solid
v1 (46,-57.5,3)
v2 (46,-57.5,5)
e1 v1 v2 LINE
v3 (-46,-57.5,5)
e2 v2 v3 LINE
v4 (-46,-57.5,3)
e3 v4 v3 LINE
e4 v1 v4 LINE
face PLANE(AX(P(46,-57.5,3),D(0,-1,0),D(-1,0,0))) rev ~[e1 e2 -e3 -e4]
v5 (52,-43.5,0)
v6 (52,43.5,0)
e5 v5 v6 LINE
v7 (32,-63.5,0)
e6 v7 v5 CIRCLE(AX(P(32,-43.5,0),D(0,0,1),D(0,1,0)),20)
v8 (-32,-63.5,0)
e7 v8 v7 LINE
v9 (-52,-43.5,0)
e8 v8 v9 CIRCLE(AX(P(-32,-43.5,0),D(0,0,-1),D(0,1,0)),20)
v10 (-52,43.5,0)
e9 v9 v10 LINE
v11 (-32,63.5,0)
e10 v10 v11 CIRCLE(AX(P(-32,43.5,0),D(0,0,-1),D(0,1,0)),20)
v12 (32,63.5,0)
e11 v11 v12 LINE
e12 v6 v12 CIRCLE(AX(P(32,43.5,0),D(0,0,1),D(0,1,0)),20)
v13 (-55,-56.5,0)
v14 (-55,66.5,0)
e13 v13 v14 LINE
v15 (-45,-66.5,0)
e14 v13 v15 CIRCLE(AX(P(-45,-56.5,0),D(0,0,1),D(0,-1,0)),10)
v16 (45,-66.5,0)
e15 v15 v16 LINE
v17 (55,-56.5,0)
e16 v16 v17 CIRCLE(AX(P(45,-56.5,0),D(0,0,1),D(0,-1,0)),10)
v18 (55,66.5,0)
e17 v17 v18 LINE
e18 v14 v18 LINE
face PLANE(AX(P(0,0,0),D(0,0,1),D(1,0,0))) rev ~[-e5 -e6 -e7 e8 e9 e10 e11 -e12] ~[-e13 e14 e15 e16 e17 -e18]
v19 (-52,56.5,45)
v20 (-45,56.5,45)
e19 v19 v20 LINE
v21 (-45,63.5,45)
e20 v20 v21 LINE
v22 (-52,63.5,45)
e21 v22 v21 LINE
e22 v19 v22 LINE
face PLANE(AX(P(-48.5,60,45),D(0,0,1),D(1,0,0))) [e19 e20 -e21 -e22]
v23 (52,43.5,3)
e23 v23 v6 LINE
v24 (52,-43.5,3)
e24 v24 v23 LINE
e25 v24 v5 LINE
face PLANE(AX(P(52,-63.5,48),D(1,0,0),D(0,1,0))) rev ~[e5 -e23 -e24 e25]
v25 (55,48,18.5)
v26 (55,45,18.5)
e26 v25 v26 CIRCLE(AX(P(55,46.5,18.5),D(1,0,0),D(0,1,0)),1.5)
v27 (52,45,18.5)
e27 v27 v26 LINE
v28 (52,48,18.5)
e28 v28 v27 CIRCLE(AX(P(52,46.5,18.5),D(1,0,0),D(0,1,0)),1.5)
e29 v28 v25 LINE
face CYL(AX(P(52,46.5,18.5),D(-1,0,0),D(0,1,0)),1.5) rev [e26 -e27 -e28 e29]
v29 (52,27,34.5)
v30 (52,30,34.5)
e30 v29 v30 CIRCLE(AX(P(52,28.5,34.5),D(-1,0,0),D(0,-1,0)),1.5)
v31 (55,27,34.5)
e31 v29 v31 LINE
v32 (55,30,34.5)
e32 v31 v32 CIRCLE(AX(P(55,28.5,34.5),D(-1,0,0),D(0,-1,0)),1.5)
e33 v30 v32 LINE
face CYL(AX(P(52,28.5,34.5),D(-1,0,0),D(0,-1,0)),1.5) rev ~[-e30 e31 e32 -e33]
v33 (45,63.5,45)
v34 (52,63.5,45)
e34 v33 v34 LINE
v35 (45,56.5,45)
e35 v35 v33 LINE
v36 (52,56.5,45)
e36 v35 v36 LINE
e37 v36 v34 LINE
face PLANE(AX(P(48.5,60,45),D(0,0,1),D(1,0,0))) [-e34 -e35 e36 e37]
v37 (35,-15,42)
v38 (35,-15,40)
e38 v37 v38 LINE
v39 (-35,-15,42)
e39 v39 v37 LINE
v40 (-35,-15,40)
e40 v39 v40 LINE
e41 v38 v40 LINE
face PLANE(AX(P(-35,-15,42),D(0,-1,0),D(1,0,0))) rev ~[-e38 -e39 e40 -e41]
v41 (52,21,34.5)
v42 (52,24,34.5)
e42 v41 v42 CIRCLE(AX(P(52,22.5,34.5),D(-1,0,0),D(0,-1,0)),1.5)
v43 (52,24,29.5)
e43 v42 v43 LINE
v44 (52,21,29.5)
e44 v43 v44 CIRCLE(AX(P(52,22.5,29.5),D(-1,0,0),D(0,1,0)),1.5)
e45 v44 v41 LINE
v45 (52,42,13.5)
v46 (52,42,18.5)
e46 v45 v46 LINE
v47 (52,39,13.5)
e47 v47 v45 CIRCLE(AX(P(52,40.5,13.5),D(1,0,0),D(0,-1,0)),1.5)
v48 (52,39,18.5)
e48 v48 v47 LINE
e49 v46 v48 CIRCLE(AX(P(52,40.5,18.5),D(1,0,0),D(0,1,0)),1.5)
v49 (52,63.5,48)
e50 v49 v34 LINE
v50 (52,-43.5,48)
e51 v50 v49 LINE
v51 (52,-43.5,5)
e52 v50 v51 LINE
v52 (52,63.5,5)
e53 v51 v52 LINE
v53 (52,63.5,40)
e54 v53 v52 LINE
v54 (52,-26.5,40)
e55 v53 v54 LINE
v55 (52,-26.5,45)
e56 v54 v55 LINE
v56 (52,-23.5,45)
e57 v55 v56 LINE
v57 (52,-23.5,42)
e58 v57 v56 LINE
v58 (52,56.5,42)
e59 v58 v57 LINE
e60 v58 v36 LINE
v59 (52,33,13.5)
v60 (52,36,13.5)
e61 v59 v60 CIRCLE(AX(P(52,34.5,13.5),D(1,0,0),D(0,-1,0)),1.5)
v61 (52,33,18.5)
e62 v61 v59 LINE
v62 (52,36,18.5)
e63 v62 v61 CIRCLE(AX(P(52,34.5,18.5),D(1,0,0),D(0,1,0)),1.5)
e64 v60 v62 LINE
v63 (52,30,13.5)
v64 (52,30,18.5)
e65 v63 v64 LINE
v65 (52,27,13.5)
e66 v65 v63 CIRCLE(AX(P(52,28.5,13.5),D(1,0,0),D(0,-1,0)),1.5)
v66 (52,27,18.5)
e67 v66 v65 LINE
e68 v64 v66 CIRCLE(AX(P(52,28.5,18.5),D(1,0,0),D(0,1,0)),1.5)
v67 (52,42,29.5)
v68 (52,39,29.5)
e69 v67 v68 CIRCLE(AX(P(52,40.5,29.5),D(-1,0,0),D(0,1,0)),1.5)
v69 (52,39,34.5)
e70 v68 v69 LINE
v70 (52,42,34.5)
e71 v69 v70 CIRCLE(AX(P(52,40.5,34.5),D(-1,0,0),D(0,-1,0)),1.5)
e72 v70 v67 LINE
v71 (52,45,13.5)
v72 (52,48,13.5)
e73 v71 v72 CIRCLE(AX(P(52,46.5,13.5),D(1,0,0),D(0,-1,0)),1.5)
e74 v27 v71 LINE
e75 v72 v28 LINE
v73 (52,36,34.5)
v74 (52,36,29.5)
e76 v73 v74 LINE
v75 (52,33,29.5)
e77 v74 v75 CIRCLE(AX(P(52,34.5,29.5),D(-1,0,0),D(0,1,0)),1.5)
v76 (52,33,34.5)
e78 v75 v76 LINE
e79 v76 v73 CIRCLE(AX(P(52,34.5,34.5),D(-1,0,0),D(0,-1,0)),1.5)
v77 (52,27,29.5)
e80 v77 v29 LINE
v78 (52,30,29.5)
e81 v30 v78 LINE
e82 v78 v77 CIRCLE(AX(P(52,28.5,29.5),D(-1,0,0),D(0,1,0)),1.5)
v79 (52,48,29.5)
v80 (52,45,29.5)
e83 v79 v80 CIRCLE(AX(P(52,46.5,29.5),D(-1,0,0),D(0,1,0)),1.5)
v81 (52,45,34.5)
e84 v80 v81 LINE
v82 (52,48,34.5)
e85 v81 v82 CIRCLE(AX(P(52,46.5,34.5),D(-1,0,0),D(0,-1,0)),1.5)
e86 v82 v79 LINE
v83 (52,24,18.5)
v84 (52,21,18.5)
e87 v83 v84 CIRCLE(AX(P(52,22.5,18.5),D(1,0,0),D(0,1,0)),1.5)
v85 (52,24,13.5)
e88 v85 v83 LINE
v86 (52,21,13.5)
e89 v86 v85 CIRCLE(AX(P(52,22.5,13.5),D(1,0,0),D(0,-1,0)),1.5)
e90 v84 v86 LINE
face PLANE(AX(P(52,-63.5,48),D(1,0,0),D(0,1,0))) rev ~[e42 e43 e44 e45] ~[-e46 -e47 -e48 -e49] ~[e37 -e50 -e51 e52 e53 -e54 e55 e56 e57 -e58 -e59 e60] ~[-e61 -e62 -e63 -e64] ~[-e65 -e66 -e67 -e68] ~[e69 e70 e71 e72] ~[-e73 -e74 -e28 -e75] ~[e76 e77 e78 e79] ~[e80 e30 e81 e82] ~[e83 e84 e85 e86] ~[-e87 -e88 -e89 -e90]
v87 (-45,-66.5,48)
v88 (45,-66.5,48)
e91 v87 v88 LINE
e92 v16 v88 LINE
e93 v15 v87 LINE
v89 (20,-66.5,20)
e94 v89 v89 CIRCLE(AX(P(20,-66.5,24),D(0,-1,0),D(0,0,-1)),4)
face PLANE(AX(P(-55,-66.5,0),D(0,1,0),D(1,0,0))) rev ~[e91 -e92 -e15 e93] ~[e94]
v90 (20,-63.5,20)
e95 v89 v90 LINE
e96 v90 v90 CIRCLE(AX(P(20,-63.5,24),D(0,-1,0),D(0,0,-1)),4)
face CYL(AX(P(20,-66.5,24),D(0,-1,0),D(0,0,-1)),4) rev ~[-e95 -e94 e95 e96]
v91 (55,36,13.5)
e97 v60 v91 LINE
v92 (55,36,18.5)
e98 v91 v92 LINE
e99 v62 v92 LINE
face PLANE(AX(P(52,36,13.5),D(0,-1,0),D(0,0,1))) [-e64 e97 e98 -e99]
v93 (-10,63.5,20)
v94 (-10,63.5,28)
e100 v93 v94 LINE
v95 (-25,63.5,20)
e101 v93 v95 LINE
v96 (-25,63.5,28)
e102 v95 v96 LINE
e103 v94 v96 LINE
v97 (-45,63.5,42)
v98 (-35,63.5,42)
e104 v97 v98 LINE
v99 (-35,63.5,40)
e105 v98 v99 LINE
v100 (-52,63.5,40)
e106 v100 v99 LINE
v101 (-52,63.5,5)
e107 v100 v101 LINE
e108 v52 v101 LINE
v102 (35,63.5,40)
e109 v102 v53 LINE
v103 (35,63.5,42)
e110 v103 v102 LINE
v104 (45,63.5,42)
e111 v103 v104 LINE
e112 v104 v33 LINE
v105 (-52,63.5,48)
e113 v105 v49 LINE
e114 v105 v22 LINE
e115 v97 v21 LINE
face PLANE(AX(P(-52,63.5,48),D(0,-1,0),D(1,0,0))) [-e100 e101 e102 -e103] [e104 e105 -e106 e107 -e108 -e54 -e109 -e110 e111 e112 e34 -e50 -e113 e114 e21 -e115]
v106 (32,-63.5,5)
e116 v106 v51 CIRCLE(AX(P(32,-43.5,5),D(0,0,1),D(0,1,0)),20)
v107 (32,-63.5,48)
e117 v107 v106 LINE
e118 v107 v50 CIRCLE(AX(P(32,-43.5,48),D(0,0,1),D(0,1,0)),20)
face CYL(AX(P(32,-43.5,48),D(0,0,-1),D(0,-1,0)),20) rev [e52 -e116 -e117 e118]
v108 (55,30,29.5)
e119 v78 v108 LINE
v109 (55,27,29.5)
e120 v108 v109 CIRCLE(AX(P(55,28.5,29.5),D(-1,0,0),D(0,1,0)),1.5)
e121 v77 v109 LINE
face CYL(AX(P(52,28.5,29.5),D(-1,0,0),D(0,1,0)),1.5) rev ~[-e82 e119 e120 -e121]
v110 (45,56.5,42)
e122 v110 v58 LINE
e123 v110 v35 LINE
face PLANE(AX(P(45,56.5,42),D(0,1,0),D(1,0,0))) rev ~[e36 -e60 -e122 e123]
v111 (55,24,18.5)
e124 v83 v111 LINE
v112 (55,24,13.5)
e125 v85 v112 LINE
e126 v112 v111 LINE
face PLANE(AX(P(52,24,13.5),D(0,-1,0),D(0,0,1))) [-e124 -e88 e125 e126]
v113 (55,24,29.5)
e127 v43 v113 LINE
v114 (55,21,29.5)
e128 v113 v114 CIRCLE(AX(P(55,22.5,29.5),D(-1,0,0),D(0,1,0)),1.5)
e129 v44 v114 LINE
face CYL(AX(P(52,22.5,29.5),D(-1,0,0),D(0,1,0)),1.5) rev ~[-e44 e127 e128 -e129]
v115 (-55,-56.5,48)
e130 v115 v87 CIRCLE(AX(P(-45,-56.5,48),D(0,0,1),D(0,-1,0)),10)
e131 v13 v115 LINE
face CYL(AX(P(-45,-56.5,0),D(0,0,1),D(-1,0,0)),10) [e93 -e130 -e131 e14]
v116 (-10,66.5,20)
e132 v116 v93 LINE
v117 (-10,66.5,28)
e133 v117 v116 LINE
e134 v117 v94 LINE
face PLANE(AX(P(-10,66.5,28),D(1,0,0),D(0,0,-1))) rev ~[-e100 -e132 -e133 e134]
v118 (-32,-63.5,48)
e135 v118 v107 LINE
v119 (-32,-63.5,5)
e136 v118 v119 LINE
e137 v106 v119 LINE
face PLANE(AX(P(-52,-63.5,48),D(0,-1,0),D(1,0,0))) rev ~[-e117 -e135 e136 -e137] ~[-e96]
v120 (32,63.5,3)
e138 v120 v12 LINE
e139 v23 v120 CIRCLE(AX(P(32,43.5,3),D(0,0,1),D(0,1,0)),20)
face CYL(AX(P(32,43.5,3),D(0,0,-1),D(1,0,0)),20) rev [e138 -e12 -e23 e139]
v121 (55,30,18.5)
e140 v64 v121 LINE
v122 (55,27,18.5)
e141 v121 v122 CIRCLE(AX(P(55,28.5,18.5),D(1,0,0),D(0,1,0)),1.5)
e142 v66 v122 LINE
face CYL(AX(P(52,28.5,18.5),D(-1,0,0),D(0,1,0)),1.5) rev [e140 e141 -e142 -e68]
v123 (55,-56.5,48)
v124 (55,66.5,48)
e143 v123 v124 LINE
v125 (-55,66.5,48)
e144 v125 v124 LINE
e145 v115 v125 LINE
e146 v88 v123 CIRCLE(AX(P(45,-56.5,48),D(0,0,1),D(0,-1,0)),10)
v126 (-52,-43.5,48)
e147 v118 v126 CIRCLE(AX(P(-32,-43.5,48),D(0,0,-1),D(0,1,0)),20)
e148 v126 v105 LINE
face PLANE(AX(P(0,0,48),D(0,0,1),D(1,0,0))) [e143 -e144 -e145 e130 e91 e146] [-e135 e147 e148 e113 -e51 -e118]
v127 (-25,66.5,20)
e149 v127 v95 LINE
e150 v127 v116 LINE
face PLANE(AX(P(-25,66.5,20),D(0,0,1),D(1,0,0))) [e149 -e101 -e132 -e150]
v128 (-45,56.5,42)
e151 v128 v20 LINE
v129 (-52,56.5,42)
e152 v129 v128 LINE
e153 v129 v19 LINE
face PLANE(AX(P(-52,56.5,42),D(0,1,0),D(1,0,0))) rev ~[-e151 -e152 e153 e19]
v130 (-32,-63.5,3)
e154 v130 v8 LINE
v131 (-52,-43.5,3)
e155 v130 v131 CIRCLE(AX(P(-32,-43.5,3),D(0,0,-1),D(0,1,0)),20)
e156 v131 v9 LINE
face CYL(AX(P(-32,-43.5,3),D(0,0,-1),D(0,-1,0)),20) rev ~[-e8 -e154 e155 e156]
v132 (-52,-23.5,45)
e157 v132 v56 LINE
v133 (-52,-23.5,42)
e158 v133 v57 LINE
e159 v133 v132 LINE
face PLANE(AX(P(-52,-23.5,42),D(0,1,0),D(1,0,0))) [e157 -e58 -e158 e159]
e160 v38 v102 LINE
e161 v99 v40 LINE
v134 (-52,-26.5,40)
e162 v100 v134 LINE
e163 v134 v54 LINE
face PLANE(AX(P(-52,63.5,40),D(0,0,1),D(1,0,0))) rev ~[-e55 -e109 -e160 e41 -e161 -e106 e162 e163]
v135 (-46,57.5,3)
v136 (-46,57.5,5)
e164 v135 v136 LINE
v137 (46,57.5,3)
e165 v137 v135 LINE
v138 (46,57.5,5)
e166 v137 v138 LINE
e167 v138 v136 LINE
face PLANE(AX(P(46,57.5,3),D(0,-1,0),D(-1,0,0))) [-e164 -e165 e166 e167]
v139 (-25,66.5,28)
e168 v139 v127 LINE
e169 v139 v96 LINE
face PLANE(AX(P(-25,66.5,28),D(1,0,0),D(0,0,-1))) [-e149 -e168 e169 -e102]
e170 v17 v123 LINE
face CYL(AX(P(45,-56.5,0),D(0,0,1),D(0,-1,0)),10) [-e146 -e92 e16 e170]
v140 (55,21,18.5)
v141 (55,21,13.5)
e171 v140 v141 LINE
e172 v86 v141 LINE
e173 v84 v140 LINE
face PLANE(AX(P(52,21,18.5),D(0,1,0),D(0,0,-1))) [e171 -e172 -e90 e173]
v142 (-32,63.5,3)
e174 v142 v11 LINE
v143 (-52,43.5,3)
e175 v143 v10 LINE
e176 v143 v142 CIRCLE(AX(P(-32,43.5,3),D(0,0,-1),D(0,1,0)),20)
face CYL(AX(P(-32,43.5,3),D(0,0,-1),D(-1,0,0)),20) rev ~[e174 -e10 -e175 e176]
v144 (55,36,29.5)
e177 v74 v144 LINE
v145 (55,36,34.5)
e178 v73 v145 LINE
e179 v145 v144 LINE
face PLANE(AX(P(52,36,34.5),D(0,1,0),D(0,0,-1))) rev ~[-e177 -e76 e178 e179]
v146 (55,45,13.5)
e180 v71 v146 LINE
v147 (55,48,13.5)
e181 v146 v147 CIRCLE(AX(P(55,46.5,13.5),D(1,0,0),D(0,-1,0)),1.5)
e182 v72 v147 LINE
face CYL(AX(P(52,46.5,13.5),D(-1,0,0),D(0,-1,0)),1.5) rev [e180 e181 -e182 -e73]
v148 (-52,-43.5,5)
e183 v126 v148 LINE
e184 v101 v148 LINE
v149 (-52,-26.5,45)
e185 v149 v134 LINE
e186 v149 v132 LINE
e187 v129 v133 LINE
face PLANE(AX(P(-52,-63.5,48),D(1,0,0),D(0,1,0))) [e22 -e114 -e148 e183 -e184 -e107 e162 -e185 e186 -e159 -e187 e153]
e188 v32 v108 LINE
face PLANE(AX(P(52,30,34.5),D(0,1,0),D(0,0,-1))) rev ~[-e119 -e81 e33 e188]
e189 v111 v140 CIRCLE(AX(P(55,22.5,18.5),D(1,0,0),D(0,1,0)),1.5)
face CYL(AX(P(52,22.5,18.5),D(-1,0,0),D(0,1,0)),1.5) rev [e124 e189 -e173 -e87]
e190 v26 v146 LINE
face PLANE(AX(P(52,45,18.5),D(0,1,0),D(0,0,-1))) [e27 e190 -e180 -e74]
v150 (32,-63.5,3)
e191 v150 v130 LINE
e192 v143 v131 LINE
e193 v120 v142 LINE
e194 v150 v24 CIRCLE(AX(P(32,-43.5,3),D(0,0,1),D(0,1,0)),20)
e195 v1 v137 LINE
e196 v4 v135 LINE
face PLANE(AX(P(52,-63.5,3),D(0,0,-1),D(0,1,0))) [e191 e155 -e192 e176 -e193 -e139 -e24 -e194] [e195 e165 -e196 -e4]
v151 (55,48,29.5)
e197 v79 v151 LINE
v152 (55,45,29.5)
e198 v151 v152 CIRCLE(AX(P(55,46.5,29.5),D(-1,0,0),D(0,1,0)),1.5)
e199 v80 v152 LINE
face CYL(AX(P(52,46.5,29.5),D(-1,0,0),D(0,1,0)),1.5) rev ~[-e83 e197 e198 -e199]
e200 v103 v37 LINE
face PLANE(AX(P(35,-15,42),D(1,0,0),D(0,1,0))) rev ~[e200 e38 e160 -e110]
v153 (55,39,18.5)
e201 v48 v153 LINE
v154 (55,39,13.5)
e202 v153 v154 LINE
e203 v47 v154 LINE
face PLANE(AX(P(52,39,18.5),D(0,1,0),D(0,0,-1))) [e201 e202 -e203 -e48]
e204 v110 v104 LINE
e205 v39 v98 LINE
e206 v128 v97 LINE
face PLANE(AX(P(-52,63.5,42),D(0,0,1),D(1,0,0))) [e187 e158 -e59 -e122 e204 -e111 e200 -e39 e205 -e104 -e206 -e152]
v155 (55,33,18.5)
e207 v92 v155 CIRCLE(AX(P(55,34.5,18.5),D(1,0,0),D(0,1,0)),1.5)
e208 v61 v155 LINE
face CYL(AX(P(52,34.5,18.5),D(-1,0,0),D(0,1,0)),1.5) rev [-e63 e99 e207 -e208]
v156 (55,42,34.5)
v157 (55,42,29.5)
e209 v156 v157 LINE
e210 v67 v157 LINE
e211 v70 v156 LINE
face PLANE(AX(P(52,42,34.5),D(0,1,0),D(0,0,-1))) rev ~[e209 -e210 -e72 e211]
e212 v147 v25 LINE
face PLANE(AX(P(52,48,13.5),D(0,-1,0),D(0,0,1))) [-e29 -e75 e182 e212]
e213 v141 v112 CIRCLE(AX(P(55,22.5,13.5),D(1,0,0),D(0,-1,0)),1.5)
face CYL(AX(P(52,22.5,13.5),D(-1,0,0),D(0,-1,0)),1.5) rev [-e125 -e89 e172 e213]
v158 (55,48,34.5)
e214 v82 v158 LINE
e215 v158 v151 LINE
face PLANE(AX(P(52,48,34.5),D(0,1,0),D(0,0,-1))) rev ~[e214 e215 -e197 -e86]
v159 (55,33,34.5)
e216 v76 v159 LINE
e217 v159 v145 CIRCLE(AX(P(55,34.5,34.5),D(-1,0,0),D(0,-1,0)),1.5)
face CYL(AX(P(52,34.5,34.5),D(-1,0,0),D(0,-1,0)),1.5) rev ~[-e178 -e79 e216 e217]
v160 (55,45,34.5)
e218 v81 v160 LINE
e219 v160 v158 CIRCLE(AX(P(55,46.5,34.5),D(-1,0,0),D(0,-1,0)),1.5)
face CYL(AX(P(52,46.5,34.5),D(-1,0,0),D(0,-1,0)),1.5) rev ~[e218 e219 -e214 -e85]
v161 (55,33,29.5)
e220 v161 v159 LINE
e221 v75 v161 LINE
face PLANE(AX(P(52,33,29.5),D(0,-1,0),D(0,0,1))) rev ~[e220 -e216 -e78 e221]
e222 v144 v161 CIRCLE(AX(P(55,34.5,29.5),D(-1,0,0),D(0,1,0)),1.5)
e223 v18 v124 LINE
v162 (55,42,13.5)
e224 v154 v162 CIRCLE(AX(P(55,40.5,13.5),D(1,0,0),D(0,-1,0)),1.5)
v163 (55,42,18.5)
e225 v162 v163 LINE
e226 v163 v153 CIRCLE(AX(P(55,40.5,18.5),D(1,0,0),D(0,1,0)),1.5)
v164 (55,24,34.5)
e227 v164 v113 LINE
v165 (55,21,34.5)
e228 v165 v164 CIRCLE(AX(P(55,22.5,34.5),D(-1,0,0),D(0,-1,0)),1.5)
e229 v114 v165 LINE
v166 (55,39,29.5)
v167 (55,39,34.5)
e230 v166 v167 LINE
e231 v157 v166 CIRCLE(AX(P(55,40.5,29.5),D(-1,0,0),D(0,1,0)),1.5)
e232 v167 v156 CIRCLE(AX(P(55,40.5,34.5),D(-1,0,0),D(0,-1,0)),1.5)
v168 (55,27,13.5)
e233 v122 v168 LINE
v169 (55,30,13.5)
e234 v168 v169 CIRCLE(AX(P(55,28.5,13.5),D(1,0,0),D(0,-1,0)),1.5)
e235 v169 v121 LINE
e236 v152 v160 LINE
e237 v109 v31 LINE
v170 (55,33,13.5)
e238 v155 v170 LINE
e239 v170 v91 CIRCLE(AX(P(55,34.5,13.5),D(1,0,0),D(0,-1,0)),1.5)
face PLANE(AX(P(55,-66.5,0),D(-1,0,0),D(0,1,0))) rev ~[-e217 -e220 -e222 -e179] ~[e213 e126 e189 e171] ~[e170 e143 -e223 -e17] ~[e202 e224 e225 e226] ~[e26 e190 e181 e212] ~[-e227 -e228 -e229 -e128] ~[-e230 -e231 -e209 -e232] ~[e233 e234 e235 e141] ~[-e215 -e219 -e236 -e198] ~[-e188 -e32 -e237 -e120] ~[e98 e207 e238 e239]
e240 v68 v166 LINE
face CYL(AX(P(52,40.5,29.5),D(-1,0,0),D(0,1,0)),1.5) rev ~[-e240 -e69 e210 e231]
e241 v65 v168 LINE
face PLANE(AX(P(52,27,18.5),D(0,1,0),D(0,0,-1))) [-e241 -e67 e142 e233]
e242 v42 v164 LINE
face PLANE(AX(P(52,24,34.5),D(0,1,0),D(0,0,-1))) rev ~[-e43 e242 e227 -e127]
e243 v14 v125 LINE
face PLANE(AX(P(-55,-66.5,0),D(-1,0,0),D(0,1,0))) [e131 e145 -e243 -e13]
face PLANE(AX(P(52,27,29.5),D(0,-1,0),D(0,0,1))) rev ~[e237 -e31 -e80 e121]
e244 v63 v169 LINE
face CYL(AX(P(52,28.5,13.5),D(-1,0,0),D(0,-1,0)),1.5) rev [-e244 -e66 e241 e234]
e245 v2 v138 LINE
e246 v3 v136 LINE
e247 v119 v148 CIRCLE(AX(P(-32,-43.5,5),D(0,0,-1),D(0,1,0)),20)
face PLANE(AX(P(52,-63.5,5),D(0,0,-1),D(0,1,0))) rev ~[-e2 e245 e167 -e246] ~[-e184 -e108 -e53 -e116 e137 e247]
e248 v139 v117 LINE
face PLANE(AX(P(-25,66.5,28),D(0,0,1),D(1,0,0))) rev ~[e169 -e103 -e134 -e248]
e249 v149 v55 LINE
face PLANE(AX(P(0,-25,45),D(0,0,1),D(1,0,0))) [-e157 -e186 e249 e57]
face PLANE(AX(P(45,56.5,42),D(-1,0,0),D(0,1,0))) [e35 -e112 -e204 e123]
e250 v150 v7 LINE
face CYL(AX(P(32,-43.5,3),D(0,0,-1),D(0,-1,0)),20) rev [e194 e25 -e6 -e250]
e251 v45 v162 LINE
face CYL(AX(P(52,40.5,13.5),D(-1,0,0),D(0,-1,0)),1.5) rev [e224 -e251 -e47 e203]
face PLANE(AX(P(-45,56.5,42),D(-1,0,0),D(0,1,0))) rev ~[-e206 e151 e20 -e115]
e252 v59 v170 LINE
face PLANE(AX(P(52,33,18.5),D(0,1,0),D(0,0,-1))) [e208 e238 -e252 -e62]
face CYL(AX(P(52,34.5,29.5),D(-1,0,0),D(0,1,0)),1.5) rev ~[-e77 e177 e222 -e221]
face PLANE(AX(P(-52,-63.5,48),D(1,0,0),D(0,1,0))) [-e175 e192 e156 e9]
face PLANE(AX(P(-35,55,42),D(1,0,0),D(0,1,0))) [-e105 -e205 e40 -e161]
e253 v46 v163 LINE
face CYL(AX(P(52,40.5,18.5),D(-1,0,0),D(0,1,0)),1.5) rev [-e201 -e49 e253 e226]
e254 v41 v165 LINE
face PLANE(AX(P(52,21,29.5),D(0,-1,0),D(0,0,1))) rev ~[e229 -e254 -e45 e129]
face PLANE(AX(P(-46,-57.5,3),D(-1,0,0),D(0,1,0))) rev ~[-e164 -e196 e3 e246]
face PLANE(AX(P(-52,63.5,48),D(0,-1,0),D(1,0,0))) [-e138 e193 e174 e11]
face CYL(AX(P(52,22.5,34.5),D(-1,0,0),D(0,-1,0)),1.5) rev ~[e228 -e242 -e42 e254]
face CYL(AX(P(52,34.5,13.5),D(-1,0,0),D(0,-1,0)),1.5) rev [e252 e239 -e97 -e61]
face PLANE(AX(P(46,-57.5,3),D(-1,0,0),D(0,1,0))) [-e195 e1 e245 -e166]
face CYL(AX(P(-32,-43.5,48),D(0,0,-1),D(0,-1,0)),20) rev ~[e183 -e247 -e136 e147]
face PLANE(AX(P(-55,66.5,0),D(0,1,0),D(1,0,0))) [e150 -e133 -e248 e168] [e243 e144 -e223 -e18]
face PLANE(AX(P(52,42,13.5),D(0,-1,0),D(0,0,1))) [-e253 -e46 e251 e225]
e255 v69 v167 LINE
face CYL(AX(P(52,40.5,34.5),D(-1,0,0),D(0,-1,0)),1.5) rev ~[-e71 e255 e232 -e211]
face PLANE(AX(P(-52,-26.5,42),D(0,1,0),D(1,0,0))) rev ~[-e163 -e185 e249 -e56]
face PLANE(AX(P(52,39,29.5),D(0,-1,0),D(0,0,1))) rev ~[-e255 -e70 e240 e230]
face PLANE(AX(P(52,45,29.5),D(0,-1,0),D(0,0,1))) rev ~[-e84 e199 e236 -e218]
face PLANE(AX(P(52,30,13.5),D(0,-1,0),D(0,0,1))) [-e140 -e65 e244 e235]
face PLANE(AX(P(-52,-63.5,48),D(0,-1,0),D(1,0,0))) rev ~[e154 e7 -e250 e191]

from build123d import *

# Parameters (mm, degrees)
SKETCH_1_W          = 110
SKETCH_1_H          = 133
EXTRUDE_1_DEPTH     = 48
SKETCH_2_W          = 104
SKETCH_2_H          = 127
CUT_EXTRUDE_1_DEPTH = 50
SKETCH_3_W          = 104
SKETCH_3_H          = 2
EXTRUDE_2_DEPTH     = 90
CUT_EXTRUDE_2_REACH = 97.975
SKETCH_4_W          = 70
SKETCH_4_H          = 70
SKETCH_5_W          = 104
SKETCH_5_H          = 3
EXTRUDE_3_DEPTH     = 3
SKETCH_6_W          = 15
SKETCH_6_H          = 8
CUT_EXTRUDE_3_DEPTH = 10
SKETCH_8_W          = 70
SKETCH_8_H          = 8.5
CUT_EXTRUDE_4_DEPTH = 2
EXTRUDE_4_REACH     = 136.816
SKETCH_9_W          = 2
SKETCH_9_H          = 127
SKETCH_10_W         = 92
SKETCH_10_H         = 115
CUT_EXTRUDE_5_DEPTH = 8
FILLET_10_R         = 10
FILLET_11_R         = 20
FILLET_12_R         = 20
FILLET_13_R         = 10
FILLET_14_R         = 20
FILLET_15_R         = 20
FILLET_16_R         = 20
SKETCH_11_W         = 7
SKETCH_11_H         = 7
EXTRUDE_5_DEPTH     = 3
SKETCH_12_R         = 4
CUT_EXTRUDE_6_DEPTH = 3
CUT_EXTRUDE_7_DEPTH = 3


with BuildPart() as part:
    # 草图1 → 凸台-拉伸1 (new body)
    with BuildSketch(Plane.XY):
        Rectangle(SKETCH_1_W, SKETCH_1_H)
    extrude(amount=EXTRUDE_1_DEPTH)

    # 草图2 → 切除-拉伸1 (cut)
    with BuildSketch(Plane.XY.offset(48)):
        Rectangle(SKETCH_2_W, SKETCH_2_H)
    extrude(amount=-CUT_EXTRUDE_1_DEPTH, mode=Mode.SUBTRACT)

    # 草图3 → 凸台-拉伸2 (add)
    with BuildSketch(Plane.XZ.offset(-63.5)):
        with Locations((0, 41)):
            Rectangle(SKETCH_3_W, SKETCH_3_H)
    extrude(amount=EXTRUDE_2_DEPTH)

    # 草图4 → 切除-拉伸2 (cut, up to next)
    with BuildSketch(Plane.XY.offset(42), mode=Mode.PRIVATE) as cut_extrude_2_sk1:
        with Locations((0, 20)):
            Rectangle(SKETCH_4_W, SKETCH_4_H)
    cut_extrude_2_tool1 = extrude(cut_extrude_2_sk1.sketch, amount=-CUT_EXTRUDE_2_REACH, mode=Mode.PRIVATE) & part.part
    add(cut_extrude_2_tool1.solids().sort_by_distance((0, 20, 42))[0], mode=Mode.SUBTRACT)

    # 草图5 → 凸台-拉伸3 (add)
    with BuildSketch(Plane.XY.offset(42)):
        with Locations((0, -25)):
            Rectangle(SKETCH_5_W, SKETCH_5_H)
    extrude(amount=EXTRUDE_3_DEPTH)

    # 草图6 → 切除-拉伸3 (cut)
    with BuildSketch(Plane(origin=(0, 66.5, 0), x_dir=(1, 0, 0), z_dir=(0, 1, 0))):
        with Locations((-17.5, -24)):
            Rectangle(SKETCH_6_W, SKETCH_6_H)
    extrude(amount=-CUT_EXTRUDE_3_DEPTH, mode=Mode.SUBTRACT)

    # 草图8 → 切除-拉伸4 (cut)
    with BuildSketch(Plane.XY.offset(42)):
        with Locations((0, 59.25)):
            Rectangle(SKETCH_8_W, SKETCH_8_H)
    extrude(amount=-CUT_EXTRUDE_4_DEPTH, mode=Mode.SUBTRACT)

    # 草图9 → 凸台-拉伸4 (add, up to next)
    with BuildSketch(Plane.ZY.offset(-52), mode=Mode.PRIVATE) as extrude_4_sk1:
        with Locations((4, 0)):
            Rectangle(SKETCH_9_W, SKETCH_9_H)
    extrude_4_tool1 = extrude(extrude_4_sk1.sketch, amount=EXTRUDE_4_REACH, mode=Mode.PRIVATE) - part.part
    add(extrude_4_tool1.solids().sort_by_distance((52, 0, 4))[0])

    # 草图10 → 切除-拉伸5 (cut)
    with BuildSketch(Plane(origin=(0, 0, 3), x_dir=(-1, 0, 0), z_dir=(0, 0, -1))):
        Rectangle(SKETCH_10_W, SKETCH_10_H)
    extrude(amount=-CUT_EXTRUDE_5_DEPTH, mode=Mode.SUBTRACT)

    # 圆角10
    fillet_10_edges = [part.edges().sort_by_distance(p)[0] for p in [
        (-55, -66.5, 24),
    ]]
    fillet(fillet_10_edges, radius=FILLET_10_R)

    # 圆角11
    fillet_11_edges = [part.edges().sort_by_distance(p)[0] for p in [
        (-52, -63.5, 1.5),
    ]]
    fillet(fillet_11_edges, radius=FILLET_11_R)

    # 圆角12
    fillet_12_edges = [part.edges().sort_by_distance(p)[0] for p in [
        (52, -63.5, 1.5),
    ]]
    fillet(fillet_12_edges, radius=FILLET_12_R)

    # 圆角13
    fillet_13_edges = [part.edges().sort_by_distance(p)[0] for p in [
        (55, -66.5, 24),
    ]]
    fillet(fillet_13_edges, radius=FILLET_13_R)

    # 圆角14
    fillet_14_edges = [part.edges().sort_by_distance(p)[0] for p in [
        (-52, 63.5, 1.5),
        (52, 63.5, 1.5),
    ]]
    fillet(fillet_14_edges, radius=FILLET_14_R)

    # 圆角15
    fillet_15_edges = [part.edges().sort_by_distance(p)[0] for p in [
        (52, -63.5, 26.5),
    ]]
    fillet(fillet_15_edges, radius=FILLET_15_R)

    # 圆角16
    fillet_16_edges = [part.edges().sort_by_distance(p)[0] for p in [
        (-52, -63.5, 26.5),
    ]]
    fillet(fillet_16_edges, radius=FILLET_16_R)

    # 草图11 → 凸台-拉伸5 (add)
    with BuildSketch(Plane.XY.offset(42)):
        with Locations((48.5, 60)):
            Rectangle(SKETCH_11_W, SKETCH_11_H)
        with Locations((-48.5, 60)):
            Rectangle(SKETCH_11_W, SKETCH_11_H)
    extrude(amount=EXTRUDE_5_DEPTH)

    # 草图12 → 切除-拉伸6 (cut)
    with BuildSketch(Plane.XZ.offset(66.5)):
        with Locations(Location((20, 24, 0), (0, 0, 270))):
            Circle(SKETCH_12_R)
    extrude(amount=-CUT_EXTRUDE_6_DEPTH, mode=Mode.SUBTRACT)

    # 草图13 → 切除-拉伸7 (cut)
    with BuildSketch(Plane.ZY.offset(-52)):
        with BuildLine():
            Line((13.5, 48), (18.5, 48))
            ThreePointArc((18.5, 48), (20, 46.5), (18.5, 45))
            Line((18.5, 45), (13.5, 45))
            ThreePointArc((13.5, 45), (12, 46.5), (13.5, 48))
        make_face()
        with BuildLine():
            Line((34.5, 48), (29.5, 48))
            ThreePointArc((29.5, 48), (28, 46.5), (29.5, 45))
            Line((29.5, 45), (34.5, 45))
            ThreePointArc((34.5, 45), (36, 46.5), (34.5, 48))
        make_face()
        with BuildLine():
            Line((13.5, 42), (18.5, 42))
            ThreePointArc((18.5, 42), (20, 40.5), (18.5, 39))
            Line((18.5, 39), (13.5, 39))
            ThreePointArc((13.5, 39), (12, 40.5), (13.5, 42))
        make_face()
        with BuildLine():
            Line((13.5, 36), (18.5, 36))
            ThreePointArc((18.5, 36), (20, 34.5), (18.5, 33))
            Line((18.5, 33), (13.5, 33))
            ThreePointArc((13.5, 33), (12, 34.5), (13.5, 36))
        make_face()
        with BuildLine():
            Line((13.5, 30), (18.5, 30))
            ThreePointArc((18.5, 30), (20, 28.5), (18.5, 27))
            Line((18.5, 27), (13.5, 27))
            ThreePointArc((13.5, 27), (12, 28.5), (13.5, 30))
        make_face()
        with BuildLine():
            Line((13.5, 24), (18.5, 24))
            ThreePointArc((18.5, 24), (20, 22.5), (18.5, 21))
            Line((18.5, 21), (13.5, 21))
            ThreePointArc((13.5, 21), (12, 22.5), (13.5, 24))
        make_face()
        with BuildLine():
            Line((34.5, 24), (29.5, 24))
            ThreePointArc((29.5, 24), (28, 22.5), (29.5, 21))
            Line((29.5, 21), (34.5, 21))
            ThreePointArc((34.5, 21), (36, 22.5), (34.5, 24))
        make_face()
        with BuildLine():
            Line((34.5, 30), (29.5, 30))
            ThreePointArc((29.5, 30), (28, 28.5), (29.5, 27))
            Line((29.5, 27), (34.5, 27))
            ThreePointArc((34.5, 27), (36, 28.5), (34.5, 30))
        make_face()
        with BuildLine():
            Line((34.5, 36), (29.5, 36))
            ThreePointArc((29.5, 36), (28, 34.5), (29.5, 33))
            Line((29.5, 33), (34.5, 33))
            ThreePointArc((34.5, 33), (36, 34.5), (34.5, 36))
        make_face()
        with BuildLine():
            Line((34.5, 42), (29.5, 42))
            ThreePointArc((29.5, 42), (28, 40.5), (29.5, 39))
            Line((29.5, 39), (34.5, 39))
            ThreePointArc((34.5, 39), (36, 40.5), (34.5, 42))
        make_face()
    extrude(amount=-CUT_EXTRUDE_7_DEPTH, mode=Mode.SUBTRACT)


solid = part.part
